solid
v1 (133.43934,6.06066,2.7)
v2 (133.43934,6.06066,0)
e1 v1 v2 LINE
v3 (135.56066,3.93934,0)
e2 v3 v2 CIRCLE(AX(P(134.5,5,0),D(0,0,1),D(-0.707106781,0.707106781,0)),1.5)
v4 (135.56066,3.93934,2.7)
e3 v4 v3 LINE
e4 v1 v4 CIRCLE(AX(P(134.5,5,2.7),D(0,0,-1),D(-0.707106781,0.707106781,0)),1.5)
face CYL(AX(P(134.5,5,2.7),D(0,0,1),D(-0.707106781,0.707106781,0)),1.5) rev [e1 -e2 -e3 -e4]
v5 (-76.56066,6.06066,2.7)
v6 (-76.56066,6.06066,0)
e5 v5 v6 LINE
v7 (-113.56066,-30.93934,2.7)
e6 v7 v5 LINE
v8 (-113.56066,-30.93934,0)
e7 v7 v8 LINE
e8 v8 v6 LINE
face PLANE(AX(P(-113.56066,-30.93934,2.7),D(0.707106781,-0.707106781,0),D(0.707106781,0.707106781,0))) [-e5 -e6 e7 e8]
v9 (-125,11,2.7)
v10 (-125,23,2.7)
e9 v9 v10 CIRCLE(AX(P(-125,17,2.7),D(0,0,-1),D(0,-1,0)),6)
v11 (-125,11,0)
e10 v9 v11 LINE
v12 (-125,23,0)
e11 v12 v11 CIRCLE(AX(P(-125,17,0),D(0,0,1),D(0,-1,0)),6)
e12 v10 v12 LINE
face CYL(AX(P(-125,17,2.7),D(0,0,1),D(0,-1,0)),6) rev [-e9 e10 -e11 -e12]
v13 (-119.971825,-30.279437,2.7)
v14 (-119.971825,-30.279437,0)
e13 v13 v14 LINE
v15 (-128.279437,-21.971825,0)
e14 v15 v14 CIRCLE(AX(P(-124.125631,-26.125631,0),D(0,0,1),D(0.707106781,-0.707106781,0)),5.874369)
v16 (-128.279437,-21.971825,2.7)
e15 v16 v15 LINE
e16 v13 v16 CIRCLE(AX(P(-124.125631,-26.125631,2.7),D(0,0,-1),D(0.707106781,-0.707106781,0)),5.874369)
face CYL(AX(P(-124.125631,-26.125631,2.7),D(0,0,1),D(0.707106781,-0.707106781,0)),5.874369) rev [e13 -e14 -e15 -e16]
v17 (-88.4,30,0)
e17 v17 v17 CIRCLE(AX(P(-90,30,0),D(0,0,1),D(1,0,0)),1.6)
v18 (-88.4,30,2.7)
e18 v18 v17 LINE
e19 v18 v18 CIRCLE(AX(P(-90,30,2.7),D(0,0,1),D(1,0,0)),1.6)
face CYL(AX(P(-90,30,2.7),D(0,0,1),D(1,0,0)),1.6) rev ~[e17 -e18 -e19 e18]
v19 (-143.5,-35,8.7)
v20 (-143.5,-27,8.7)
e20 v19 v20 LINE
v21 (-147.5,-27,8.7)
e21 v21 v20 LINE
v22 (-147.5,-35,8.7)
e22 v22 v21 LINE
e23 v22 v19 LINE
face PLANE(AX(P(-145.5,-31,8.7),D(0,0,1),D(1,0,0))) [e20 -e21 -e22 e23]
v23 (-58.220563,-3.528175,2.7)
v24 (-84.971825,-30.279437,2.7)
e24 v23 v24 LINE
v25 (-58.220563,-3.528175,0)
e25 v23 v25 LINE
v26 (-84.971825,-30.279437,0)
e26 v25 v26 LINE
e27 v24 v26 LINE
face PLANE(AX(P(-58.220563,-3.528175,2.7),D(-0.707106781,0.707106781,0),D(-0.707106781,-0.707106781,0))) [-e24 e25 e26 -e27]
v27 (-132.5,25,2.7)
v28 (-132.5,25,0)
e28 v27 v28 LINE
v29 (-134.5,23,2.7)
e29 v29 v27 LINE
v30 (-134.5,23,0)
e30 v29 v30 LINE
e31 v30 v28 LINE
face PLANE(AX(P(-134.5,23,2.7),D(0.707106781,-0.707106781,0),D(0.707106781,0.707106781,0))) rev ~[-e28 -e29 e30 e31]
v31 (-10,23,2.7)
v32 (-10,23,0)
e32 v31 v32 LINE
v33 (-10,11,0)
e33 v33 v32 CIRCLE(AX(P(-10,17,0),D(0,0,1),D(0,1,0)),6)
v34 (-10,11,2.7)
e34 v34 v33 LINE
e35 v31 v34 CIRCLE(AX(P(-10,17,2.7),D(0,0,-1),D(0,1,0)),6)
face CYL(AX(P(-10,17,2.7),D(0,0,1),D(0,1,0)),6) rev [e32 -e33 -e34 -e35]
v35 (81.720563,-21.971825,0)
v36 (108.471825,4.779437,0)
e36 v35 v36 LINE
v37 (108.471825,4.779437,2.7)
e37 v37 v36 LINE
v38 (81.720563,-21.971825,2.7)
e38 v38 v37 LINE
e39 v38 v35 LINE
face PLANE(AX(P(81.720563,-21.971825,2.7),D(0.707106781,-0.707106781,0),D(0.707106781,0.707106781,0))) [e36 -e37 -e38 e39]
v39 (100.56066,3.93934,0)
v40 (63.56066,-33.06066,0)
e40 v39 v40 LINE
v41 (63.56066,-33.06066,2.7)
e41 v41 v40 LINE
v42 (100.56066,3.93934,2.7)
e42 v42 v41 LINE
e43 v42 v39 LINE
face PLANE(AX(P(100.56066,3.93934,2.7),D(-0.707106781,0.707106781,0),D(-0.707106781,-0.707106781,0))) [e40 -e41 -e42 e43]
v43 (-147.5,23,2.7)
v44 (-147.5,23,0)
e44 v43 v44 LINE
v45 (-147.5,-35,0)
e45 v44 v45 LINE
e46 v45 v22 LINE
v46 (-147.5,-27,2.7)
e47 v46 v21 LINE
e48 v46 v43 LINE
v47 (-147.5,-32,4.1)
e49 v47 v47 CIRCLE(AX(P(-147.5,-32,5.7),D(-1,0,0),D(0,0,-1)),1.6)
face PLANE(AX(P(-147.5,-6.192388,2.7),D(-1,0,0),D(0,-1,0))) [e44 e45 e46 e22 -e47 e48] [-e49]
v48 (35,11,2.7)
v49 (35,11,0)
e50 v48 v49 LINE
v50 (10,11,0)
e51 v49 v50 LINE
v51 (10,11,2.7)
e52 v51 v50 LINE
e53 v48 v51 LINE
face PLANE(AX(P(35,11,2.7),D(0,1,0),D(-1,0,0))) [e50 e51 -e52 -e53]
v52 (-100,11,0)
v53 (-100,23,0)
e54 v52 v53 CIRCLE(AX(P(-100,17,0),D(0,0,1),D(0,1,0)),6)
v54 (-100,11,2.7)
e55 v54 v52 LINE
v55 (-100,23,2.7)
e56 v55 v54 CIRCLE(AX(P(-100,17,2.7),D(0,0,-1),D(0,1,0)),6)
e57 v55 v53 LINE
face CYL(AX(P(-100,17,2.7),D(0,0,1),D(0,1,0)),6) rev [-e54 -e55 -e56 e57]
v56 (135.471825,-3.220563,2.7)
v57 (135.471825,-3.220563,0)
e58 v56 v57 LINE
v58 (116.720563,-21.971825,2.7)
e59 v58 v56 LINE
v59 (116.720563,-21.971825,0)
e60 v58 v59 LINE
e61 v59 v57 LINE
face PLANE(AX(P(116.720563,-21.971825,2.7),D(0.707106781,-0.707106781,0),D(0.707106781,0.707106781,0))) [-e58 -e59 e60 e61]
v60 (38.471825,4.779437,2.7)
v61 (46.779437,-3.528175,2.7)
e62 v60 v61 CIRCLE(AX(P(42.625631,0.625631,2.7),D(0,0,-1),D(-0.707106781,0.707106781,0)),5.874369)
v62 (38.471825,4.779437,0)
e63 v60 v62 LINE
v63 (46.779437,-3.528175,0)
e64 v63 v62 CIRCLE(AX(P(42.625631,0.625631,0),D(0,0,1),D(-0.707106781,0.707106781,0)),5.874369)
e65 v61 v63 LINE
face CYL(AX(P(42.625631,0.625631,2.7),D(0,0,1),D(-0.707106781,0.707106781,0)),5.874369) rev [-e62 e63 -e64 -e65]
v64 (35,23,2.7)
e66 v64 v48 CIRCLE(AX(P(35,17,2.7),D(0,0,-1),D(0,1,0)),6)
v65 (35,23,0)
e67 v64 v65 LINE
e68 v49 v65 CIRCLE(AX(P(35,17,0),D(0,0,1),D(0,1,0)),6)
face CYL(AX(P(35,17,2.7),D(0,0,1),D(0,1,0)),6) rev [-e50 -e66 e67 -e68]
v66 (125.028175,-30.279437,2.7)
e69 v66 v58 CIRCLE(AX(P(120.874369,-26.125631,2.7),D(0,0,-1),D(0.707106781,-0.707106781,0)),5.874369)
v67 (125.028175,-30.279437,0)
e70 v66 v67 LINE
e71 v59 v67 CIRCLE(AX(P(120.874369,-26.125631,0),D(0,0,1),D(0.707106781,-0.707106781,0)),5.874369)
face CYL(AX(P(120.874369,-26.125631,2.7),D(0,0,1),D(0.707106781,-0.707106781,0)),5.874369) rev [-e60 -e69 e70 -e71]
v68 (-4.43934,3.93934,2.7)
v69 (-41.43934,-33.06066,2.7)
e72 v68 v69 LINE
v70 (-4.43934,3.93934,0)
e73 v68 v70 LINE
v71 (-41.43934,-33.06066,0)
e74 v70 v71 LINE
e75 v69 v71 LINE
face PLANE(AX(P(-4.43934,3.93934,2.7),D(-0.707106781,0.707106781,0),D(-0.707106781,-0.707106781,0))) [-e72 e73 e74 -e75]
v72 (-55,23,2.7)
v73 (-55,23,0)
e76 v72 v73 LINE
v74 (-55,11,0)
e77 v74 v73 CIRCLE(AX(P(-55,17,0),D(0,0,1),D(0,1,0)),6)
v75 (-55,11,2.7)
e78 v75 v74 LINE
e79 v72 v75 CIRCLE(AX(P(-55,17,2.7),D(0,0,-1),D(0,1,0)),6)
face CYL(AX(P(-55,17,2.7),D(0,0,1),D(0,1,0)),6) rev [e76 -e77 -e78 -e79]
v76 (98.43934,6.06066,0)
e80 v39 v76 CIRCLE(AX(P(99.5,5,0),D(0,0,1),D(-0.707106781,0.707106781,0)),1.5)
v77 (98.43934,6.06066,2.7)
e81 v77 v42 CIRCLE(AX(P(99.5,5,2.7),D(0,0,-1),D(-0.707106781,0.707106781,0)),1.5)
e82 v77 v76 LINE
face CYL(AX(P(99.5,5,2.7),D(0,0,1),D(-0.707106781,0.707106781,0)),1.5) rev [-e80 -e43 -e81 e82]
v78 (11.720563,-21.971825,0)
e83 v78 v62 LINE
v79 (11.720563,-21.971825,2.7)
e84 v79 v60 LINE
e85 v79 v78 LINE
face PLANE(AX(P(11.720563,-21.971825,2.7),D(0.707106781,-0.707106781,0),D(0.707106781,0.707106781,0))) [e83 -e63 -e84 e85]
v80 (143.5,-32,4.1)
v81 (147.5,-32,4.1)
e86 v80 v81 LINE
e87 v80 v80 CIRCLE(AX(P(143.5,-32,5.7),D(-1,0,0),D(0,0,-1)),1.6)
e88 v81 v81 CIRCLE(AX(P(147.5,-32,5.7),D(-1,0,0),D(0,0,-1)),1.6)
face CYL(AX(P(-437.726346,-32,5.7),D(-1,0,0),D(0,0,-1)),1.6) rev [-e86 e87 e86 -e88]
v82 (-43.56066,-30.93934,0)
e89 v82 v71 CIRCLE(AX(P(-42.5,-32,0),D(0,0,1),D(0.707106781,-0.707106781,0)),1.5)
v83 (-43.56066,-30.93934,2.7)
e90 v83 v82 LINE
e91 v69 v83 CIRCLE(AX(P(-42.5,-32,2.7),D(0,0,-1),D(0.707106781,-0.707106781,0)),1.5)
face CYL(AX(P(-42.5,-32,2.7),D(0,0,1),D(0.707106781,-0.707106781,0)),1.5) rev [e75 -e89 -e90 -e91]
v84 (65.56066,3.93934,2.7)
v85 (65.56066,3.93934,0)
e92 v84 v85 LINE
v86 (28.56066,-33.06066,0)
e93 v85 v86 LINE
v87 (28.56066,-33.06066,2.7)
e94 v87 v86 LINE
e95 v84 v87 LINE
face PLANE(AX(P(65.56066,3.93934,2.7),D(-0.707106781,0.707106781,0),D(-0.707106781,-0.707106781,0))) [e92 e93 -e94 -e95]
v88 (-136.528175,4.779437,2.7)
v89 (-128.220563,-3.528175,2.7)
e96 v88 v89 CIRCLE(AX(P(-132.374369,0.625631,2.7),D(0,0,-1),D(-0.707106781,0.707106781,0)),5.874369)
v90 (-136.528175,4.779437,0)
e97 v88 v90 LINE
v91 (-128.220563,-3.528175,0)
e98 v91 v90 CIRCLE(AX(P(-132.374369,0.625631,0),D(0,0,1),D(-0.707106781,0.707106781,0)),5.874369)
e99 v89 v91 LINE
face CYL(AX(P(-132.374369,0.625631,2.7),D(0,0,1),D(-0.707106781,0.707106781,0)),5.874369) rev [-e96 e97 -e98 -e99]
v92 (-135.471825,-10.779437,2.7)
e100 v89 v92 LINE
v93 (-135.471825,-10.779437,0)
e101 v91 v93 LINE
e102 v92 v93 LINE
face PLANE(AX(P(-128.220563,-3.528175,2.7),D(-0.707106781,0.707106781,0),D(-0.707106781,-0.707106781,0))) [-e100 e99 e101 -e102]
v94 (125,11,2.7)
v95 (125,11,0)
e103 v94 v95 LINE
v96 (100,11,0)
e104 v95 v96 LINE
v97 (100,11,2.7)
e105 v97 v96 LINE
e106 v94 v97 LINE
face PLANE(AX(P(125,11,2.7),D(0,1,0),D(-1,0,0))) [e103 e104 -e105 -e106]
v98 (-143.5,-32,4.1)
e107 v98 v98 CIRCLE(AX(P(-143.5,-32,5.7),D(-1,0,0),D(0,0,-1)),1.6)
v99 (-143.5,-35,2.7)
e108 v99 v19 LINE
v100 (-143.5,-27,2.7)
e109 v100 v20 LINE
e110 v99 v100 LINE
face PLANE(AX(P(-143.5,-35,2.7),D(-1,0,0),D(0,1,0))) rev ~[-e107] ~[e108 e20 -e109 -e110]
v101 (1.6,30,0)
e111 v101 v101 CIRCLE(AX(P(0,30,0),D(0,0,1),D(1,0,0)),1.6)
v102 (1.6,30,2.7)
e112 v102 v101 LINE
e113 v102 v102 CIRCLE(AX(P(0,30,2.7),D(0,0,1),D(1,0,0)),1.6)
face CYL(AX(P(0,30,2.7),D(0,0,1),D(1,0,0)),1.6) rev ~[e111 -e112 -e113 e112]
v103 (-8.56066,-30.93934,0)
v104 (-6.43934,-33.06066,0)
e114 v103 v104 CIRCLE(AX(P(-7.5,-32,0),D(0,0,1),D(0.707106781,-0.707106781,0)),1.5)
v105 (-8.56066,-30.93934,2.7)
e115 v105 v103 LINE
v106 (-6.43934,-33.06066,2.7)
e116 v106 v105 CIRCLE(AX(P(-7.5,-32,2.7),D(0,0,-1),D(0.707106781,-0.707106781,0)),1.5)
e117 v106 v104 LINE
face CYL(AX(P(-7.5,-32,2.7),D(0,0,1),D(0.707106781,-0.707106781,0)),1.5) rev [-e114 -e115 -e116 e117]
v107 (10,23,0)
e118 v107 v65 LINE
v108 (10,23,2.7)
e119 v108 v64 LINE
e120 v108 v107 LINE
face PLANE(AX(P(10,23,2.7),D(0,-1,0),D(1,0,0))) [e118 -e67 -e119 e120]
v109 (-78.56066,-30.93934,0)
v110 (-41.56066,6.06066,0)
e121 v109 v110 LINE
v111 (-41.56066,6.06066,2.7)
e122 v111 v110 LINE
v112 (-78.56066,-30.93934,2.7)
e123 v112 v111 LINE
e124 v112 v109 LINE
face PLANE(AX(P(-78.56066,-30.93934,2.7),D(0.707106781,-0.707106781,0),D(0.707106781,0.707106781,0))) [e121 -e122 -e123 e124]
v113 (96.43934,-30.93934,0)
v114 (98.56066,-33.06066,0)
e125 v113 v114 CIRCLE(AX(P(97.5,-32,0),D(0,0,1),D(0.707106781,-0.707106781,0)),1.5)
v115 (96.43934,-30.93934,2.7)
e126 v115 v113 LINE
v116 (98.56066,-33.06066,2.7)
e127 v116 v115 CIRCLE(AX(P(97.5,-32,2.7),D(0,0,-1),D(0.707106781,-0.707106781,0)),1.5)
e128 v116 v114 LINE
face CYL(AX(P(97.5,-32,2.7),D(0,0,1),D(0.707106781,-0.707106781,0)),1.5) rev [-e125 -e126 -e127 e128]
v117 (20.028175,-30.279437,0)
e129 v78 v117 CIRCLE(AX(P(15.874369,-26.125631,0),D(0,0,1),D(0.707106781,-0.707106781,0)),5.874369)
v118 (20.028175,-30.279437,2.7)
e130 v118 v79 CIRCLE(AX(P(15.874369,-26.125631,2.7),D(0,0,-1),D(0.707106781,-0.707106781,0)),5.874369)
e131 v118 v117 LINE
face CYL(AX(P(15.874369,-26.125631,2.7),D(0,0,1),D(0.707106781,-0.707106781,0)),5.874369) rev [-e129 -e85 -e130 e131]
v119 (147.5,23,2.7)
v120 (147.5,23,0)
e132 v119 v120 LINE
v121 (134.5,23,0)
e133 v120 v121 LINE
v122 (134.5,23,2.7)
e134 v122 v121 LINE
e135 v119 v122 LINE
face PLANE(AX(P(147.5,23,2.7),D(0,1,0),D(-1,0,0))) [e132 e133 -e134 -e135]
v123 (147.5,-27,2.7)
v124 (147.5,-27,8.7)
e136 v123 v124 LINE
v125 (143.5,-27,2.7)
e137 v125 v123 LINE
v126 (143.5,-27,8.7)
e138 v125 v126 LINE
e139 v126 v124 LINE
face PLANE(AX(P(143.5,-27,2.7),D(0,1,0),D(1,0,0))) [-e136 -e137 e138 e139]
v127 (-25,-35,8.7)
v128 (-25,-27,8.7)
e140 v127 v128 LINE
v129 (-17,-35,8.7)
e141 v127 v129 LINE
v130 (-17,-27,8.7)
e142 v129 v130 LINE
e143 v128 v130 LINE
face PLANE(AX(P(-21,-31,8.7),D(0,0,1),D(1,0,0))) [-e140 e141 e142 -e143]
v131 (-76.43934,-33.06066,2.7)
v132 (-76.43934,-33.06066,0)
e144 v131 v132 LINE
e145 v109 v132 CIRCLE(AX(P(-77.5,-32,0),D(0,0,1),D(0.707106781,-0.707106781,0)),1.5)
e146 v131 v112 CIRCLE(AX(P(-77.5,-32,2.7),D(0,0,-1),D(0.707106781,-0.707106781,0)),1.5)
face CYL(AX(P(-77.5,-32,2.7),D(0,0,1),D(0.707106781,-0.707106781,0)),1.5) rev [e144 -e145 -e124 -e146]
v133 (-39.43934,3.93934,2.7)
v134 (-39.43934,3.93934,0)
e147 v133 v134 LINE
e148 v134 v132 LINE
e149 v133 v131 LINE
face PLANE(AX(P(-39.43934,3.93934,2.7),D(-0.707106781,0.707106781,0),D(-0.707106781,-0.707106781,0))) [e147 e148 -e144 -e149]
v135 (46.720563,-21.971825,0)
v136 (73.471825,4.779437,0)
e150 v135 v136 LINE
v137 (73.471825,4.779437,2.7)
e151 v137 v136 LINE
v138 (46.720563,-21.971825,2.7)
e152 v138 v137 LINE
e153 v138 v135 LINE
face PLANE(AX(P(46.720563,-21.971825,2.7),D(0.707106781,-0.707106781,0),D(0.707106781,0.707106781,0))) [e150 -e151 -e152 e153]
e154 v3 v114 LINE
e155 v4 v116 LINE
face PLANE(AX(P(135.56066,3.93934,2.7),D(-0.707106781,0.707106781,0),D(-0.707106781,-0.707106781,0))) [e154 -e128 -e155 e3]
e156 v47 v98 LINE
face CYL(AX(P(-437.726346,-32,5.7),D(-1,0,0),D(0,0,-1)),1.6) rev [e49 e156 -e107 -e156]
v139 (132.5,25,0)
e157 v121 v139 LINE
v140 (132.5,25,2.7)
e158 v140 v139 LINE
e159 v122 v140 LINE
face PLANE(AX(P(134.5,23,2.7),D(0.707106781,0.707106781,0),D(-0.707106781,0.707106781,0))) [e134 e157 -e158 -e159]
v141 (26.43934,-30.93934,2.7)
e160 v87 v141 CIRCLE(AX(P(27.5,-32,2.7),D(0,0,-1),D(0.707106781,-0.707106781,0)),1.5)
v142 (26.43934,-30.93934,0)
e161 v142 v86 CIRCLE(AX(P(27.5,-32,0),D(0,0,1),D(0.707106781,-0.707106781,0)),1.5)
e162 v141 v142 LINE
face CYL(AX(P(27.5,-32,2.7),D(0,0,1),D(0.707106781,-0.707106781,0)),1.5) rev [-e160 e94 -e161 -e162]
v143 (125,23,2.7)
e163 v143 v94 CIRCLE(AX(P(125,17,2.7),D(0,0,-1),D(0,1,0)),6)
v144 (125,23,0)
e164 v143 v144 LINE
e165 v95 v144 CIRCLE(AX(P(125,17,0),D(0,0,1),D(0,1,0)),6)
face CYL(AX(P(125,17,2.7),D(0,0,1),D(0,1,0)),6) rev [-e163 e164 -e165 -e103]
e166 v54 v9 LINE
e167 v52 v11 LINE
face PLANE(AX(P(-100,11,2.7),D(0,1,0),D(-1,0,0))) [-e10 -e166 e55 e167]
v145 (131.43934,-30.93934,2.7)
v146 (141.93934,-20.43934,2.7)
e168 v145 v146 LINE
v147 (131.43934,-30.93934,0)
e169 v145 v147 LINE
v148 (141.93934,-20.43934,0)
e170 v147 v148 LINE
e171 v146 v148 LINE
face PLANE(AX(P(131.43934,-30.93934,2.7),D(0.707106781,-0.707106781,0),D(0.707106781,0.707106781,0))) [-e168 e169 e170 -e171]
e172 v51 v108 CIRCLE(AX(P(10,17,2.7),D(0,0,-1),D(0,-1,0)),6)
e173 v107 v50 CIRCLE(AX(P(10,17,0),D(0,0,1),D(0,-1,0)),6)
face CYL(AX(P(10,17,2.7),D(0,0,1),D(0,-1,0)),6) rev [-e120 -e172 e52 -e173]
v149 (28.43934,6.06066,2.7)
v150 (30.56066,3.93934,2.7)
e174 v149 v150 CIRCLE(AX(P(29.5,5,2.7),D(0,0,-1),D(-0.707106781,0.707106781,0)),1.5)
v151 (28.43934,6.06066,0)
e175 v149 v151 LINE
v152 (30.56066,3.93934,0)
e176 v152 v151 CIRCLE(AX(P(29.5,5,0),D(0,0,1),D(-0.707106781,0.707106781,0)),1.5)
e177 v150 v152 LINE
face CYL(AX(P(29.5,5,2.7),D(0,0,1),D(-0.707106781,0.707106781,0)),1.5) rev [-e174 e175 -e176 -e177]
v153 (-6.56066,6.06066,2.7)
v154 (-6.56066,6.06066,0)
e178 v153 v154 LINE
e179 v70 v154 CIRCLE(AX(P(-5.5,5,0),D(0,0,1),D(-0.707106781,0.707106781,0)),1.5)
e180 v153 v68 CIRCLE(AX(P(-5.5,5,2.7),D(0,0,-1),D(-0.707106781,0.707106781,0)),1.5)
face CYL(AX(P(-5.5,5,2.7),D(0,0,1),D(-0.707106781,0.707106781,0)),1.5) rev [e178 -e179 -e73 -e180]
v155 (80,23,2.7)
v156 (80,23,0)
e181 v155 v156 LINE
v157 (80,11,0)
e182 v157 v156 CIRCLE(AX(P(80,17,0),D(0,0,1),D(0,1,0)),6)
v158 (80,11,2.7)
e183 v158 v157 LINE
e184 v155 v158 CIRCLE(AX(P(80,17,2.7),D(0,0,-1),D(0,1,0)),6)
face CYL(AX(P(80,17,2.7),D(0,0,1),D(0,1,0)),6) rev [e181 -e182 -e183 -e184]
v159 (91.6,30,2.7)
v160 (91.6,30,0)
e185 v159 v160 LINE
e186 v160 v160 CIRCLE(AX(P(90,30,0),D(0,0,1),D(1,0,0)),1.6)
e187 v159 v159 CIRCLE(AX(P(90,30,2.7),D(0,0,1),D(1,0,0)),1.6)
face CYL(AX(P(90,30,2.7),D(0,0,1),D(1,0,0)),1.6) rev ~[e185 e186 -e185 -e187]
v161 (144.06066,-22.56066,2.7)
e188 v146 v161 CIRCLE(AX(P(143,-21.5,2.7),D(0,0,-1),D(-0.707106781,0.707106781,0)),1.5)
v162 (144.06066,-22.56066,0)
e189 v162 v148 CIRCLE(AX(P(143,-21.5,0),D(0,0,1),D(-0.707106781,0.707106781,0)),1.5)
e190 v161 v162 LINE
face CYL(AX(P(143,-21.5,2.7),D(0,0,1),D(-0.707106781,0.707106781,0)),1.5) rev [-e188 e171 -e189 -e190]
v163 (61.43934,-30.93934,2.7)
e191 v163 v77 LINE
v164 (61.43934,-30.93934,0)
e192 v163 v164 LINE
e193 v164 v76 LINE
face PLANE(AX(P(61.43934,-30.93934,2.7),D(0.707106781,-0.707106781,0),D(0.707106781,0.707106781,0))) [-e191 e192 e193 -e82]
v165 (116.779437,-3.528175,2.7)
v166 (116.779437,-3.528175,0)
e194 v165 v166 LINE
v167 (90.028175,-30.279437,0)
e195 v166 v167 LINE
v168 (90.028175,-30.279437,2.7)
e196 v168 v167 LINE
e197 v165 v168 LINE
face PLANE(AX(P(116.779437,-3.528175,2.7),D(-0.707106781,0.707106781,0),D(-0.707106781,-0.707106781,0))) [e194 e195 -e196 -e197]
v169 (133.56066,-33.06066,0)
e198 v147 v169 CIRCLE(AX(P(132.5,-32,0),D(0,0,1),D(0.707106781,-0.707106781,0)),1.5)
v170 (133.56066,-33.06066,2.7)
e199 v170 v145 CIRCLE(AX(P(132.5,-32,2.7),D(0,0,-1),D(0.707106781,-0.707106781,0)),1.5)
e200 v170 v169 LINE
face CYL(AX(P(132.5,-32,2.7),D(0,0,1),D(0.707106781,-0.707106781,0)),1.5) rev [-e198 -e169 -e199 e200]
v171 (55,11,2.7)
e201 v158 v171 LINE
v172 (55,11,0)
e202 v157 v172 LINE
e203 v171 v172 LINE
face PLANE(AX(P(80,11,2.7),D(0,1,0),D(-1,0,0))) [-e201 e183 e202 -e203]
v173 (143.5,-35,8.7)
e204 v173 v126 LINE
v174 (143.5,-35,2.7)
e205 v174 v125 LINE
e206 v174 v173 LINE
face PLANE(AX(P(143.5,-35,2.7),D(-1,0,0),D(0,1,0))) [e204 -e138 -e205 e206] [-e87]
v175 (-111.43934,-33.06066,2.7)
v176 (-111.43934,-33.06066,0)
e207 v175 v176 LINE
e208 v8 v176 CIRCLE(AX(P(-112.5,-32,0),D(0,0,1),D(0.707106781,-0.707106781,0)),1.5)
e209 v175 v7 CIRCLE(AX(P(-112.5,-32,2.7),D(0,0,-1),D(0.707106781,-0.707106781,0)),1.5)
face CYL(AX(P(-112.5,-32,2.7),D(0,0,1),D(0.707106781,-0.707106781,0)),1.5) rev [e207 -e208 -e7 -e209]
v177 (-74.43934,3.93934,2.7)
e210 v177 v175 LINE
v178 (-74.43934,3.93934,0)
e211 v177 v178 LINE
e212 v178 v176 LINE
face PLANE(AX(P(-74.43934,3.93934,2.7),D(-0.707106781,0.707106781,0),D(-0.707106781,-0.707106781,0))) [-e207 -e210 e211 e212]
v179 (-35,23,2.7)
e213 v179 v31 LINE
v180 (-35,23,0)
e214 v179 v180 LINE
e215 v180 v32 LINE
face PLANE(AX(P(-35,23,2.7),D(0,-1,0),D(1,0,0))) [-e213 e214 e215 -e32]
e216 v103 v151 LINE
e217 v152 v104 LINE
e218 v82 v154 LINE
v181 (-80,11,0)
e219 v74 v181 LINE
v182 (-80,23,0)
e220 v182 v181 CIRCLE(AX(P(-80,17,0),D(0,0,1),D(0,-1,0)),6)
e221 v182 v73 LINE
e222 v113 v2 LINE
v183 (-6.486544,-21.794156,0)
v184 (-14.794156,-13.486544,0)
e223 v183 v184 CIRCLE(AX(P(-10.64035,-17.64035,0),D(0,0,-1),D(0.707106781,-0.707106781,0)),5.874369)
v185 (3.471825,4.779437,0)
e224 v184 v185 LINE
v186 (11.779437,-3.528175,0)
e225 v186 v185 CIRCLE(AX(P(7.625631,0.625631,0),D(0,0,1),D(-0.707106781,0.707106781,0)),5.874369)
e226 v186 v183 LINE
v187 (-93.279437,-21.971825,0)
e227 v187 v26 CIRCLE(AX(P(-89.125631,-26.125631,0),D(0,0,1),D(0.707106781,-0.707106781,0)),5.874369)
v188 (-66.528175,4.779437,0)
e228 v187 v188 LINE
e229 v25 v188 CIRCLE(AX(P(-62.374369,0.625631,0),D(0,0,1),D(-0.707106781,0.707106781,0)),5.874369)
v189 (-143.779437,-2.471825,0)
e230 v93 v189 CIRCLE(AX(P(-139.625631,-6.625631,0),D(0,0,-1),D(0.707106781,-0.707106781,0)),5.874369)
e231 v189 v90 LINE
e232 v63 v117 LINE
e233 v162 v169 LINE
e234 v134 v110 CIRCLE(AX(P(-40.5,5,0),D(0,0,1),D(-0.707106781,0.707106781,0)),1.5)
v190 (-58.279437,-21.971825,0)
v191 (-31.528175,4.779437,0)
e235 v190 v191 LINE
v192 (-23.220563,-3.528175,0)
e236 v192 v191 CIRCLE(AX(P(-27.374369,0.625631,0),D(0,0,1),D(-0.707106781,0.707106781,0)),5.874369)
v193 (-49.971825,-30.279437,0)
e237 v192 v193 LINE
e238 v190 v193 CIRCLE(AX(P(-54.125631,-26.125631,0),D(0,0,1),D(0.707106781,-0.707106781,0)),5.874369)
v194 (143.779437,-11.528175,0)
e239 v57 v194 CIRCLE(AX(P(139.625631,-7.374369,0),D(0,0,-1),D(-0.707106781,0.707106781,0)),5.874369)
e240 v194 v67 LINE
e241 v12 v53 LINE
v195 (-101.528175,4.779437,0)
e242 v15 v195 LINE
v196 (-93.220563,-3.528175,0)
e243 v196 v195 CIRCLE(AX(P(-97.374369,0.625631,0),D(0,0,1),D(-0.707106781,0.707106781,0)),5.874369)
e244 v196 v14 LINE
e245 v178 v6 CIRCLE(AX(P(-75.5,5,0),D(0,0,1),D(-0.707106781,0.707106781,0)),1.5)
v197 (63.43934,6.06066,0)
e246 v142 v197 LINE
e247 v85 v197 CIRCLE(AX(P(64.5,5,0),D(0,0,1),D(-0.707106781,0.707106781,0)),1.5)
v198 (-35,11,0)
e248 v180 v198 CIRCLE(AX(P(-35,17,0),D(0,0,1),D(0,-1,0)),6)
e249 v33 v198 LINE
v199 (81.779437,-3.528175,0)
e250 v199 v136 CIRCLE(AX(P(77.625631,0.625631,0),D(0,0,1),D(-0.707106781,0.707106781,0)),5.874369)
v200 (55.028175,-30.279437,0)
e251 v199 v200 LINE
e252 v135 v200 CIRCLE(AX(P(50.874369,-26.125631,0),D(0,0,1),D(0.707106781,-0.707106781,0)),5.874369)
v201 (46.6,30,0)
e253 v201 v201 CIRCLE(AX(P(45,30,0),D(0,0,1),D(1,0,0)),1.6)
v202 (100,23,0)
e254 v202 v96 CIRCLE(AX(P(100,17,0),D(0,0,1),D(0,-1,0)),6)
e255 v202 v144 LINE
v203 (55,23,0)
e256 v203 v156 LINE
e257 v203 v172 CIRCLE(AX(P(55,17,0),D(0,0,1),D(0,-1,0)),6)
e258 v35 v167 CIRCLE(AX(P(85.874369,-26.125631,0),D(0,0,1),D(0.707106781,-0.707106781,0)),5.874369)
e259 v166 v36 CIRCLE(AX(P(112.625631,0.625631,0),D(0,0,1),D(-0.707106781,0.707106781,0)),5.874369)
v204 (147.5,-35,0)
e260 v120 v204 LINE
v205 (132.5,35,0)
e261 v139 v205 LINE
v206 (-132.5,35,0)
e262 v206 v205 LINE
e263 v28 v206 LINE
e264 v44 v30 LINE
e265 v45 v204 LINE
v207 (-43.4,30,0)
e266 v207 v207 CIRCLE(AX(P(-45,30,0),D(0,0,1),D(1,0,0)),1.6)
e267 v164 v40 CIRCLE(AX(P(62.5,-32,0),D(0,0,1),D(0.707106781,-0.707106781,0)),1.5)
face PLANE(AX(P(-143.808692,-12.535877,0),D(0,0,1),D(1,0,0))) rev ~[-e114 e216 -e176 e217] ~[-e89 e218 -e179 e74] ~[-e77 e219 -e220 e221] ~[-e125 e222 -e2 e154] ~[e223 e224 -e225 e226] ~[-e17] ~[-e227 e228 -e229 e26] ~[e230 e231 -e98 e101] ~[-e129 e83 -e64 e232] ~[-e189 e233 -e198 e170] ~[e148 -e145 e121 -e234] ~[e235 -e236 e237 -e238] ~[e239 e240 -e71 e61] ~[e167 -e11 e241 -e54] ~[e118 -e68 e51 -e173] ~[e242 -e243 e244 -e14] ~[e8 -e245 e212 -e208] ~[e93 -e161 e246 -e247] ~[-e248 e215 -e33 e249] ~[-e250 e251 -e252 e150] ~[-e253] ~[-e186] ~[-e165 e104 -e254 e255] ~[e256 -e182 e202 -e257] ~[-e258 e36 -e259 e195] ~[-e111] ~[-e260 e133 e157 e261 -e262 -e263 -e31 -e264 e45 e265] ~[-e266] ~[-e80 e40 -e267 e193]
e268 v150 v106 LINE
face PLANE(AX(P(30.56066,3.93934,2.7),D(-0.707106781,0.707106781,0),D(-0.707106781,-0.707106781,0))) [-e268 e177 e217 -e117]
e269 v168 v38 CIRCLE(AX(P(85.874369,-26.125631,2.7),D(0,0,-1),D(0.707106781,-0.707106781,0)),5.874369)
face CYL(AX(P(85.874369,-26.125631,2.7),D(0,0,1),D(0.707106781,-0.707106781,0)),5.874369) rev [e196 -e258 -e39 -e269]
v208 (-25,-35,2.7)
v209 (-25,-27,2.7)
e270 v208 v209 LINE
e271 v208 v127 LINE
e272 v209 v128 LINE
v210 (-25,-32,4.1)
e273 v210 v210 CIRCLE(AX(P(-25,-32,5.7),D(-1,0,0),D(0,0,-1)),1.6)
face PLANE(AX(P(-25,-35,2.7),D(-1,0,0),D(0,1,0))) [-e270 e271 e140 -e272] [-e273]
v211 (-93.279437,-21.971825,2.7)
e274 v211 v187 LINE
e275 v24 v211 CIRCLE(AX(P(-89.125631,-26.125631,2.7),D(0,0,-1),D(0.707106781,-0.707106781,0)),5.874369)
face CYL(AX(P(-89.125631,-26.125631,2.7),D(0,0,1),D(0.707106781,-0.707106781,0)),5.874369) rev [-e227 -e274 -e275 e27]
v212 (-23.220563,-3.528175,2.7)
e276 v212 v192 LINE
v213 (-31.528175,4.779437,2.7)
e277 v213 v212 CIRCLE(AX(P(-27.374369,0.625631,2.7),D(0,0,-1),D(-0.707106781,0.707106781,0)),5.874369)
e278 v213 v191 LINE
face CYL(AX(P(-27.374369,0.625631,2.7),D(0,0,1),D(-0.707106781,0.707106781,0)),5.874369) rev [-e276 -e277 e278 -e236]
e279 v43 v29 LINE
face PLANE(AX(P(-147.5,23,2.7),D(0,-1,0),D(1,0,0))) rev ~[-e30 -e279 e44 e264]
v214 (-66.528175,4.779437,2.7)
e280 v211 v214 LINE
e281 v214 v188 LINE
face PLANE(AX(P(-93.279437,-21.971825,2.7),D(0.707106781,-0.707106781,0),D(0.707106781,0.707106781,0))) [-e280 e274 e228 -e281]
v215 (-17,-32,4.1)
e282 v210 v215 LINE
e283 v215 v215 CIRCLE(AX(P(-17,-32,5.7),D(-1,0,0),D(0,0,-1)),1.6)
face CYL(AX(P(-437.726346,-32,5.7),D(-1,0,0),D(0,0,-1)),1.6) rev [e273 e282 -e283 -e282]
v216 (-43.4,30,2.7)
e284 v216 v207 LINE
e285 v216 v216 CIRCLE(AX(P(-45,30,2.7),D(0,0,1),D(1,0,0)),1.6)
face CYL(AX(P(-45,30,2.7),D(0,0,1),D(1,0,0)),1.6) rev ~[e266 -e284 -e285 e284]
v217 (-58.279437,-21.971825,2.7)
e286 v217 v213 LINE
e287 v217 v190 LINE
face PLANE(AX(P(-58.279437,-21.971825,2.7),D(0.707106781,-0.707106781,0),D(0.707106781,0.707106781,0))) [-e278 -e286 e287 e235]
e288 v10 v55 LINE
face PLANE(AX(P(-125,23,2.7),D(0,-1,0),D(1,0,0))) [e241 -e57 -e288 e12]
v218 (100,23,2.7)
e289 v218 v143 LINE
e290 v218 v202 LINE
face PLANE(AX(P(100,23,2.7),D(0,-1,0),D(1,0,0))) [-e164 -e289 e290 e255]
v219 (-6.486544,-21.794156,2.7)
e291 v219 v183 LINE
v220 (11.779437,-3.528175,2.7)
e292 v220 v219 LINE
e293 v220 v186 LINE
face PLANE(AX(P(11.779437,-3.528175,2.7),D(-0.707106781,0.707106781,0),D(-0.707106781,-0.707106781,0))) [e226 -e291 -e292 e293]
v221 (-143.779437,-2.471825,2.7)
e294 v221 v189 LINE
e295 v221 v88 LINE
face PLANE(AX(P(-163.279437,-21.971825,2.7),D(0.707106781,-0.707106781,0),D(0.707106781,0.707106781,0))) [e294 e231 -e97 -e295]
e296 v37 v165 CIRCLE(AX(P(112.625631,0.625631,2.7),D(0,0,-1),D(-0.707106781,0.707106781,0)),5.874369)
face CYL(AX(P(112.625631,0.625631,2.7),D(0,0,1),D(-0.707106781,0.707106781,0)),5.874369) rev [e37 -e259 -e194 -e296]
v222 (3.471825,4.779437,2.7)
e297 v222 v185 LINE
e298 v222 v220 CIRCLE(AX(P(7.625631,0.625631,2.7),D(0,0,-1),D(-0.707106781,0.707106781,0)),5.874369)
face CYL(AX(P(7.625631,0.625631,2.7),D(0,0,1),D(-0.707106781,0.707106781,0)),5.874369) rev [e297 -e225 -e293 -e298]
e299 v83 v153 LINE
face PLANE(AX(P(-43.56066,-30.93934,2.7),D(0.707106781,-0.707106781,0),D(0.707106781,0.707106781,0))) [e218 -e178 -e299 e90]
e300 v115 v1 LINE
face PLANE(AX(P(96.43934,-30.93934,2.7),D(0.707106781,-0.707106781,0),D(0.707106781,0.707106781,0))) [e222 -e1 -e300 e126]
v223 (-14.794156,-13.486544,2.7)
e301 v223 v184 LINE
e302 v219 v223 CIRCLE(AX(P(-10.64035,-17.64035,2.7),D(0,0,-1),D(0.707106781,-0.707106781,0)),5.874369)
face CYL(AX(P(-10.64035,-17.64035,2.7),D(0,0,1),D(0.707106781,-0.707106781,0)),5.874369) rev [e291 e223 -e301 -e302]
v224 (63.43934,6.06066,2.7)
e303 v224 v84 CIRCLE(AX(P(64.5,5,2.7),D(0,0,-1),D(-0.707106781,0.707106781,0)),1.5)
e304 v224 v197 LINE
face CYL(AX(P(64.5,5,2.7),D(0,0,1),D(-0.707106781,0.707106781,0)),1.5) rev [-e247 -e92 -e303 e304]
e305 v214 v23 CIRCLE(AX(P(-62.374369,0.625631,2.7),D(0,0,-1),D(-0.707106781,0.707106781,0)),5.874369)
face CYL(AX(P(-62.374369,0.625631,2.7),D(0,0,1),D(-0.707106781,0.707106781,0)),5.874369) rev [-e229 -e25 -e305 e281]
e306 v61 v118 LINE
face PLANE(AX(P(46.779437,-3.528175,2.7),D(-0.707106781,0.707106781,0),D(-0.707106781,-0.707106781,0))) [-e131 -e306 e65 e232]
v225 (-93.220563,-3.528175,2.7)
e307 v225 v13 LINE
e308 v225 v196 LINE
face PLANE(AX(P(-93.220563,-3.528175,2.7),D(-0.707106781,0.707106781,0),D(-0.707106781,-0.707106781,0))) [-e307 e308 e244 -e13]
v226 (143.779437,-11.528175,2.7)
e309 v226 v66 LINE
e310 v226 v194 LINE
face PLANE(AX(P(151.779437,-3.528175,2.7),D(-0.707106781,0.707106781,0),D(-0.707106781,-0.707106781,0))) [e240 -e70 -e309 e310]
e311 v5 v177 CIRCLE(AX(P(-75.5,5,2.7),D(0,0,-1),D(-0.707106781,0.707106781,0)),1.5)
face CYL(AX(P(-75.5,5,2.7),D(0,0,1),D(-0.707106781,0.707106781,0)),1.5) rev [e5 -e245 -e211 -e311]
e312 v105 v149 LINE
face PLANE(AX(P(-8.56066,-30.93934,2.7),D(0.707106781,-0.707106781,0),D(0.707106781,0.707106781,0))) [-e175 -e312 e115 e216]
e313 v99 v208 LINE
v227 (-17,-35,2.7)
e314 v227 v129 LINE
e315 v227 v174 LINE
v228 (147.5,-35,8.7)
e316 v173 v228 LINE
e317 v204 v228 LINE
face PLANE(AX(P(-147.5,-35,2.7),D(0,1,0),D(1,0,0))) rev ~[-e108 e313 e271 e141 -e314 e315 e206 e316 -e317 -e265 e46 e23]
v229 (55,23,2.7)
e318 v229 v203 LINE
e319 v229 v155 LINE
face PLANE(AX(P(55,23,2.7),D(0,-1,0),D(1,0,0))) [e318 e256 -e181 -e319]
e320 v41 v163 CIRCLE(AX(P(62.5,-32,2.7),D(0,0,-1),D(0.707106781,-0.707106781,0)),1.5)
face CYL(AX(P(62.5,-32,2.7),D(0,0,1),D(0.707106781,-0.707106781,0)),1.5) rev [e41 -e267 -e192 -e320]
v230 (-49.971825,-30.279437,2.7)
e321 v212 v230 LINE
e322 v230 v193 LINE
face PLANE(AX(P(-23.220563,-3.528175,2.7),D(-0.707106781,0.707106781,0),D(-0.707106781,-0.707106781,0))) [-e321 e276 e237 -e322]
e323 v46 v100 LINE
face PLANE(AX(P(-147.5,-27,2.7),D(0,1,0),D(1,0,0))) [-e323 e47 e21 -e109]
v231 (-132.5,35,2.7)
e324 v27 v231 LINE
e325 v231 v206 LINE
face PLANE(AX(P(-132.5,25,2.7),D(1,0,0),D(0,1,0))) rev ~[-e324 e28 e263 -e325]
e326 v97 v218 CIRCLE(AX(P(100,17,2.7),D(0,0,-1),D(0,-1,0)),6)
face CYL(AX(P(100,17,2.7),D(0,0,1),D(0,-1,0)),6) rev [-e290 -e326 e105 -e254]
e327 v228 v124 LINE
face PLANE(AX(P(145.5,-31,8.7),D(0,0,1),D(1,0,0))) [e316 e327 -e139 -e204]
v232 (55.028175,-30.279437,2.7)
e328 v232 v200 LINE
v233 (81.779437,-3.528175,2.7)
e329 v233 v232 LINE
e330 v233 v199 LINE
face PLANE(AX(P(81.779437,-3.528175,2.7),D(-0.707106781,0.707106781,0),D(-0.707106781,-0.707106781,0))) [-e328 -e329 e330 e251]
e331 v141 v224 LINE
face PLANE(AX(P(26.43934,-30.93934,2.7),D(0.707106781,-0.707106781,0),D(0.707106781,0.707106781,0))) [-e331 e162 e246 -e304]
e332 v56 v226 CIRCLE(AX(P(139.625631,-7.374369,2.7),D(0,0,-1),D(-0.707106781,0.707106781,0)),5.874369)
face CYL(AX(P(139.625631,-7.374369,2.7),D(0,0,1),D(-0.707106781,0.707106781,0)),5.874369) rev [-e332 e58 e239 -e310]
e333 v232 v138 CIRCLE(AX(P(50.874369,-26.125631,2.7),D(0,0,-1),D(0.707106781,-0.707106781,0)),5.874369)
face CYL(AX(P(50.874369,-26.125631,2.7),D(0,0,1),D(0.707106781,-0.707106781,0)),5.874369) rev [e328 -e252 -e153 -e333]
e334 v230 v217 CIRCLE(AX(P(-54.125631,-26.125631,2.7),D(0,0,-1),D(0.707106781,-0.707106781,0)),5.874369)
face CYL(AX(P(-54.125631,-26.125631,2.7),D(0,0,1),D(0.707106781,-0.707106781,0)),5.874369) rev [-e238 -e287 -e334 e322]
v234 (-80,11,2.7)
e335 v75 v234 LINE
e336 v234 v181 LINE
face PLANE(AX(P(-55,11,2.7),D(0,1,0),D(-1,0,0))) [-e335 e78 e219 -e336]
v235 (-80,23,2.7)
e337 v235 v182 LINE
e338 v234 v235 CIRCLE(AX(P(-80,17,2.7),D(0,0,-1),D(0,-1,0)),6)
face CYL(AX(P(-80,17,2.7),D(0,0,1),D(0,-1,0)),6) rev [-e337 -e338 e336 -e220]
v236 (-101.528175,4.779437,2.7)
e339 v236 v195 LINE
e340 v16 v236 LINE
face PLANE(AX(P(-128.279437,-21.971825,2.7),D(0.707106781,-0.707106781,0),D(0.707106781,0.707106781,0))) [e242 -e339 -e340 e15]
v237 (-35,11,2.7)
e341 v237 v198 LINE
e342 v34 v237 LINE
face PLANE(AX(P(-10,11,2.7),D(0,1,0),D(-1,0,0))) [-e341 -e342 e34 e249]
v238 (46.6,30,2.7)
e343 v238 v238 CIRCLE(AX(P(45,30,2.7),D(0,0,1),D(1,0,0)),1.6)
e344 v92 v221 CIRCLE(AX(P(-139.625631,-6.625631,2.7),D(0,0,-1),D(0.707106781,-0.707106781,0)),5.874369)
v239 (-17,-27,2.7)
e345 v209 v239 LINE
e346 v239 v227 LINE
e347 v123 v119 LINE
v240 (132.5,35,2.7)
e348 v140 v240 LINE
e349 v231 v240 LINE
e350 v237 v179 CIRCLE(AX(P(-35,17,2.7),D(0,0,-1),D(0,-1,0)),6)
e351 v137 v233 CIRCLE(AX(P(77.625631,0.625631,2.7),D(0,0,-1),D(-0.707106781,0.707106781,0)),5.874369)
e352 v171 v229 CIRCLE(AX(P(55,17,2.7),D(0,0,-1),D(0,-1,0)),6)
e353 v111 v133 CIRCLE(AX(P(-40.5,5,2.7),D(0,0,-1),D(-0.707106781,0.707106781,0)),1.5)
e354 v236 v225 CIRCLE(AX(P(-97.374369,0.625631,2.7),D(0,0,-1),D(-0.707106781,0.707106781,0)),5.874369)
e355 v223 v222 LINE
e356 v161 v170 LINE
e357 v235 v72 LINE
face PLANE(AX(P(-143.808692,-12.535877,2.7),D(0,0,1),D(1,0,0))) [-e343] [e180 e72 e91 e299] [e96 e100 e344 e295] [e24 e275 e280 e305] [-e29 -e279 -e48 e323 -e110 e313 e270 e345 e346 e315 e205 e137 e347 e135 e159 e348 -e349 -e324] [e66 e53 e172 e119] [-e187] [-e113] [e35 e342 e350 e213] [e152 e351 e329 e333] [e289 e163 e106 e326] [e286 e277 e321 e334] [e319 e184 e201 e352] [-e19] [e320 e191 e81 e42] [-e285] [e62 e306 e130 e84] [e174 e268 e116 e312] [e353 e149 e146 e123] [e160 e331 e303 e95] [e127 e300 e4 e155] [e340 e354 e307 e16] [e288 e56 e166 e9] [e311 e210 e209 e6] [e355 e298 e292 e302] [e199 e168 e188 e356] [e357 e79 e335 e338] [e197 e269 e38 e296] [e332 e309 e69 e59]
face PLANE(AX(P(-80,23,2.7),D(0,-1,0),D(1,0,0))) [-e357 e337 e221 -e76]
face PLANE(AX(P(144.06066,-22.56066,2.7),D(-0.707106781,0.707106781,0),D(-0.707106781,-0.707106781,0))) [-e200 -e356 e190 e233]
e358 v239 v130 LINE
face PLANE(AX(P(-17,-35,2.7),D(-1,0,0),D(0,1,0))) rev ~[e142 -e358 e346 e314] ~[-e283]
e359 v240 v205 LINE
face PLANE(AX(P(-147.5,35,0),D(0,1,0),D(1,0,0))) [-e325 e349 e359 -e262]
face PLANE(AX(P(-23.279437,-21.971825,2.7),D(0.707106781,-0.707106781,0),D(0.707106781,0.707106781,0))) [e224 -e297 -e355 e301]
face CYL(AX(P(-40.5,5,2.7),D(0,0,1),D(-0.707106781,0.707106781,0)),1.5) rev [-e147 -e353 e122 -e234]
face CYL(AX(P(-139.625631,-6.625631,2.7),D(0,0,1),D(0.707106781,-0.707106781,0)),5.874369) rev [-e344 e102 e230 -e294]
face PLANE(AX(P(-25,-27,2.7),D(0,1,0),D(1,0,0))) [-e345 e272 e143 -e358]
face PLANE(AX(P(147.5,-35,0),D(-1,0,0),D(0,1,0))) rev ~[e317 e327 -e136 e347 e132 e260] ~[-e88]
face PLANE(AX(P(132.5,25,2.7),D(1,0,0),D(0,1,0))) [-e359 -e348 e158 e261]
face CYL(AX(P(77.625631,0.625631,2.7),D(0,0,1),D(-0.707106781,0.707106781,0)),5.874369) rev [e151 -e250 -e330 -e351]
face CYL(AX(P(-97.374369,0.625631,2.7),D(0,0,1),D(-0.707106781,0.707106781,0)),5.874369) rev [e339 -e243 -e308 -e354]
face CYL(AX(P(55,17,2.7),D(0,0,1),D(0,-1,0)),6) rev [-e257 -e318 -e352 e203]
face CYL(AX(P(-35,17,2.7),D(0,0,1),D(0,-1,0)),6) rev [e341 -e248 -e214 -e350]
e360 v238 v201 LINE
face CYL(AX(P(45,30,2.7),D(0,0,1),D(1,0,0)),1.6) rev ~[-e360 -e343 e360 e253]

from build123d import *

# Parameters (mm, degrees)
SKETCH_1_W               = 295
SKETCH_1_H               = 70
EXTRUDE_1_DEPTH          = 2.7
CUT_EXTRUDE_5_DEPTH      = 10
CUT_EXTRUDE_1_DEPTH      = 152.619721672
PATTERN_LINEAR_1_COUNT   = 7
PATTERN_LINEAR_1_PITCH   = 35
CUT_EXTRUDE_4_DEPTH      = 152.619721672
SKETCH_5_W               = 4
SKETCH_5_H               = 8
SKETCH_5_W_2             = 8
EXTRUDE_3_DEPTH          = 6
CUT_EXTRUDE_3_DEPTH      = 294.22634602
CUT_EXTRUDE_3_DEPTH_BACK = 294.22634602
SKETCH_7_R               = 1.6
CUT_EXTRUDE_6_DEPTH      = 152.714369787
PATTERN_LINEAR_2_COUNT   = 7
PATTERN_LINEAR_2_PITCH   = 35
PATTERN_LINEAR_3_COUNT   = 3
PATTERN_LINEAR_3_PITCH   = 35
CUT_EXTRUDE_7_DEPTH      = 152.714369787
PATTERN_LINEAR_4_COUNT   = 4
PATTERN_LINEAR_4_PITCH   = 45
PATTERN_LINEAR_5_COUNT   = 3
PATTERN_LINEAR_5_PITCH   = 45
EXTRUDE_4_DEPTH          = 2.7
SKETCH_15_R              = 1.6
CUT_EXTRUDE_8_DEPTH      = 10


with BuildPart() as part:
    # 草图1 → 凸台-拉伸1 (new body)
    with BuildSketch(Plane.XY):
        Rectangle(SKETCH_1_W, SKETCH_1_H)
    extrude(amount=EXTRUDE_1_DEPTH)

    # 草图11 → 切除-拉伸5 (cut)
    with BuildSketch(Plane.XY.offset(2.7)):
        Polygon((-147.5, 35), (-147.5, 23), (-134.5, 23), (-132.5, 25), (-132.5, 35), align=None)
        Polygon((132.5, 35), (147.5, 35), (147.5, 23), (134.5, 23), (132.5, 25), align=None)
    extrude(amount=-CUT_EXTRUDE_5_DEPTH, mode=Mode.SUBTRACT)

    # 草图2 → 切除-拉伸1 (cut, through all)
    with BuildSketch(Plane.XY.offset(2.7)):
        with BuildLine():
            Line((-113.560660172, -30.939339828), (-76.560660172, 6.060660172))
            ThreePointArc((-76.560660172, 6.060660172), (-74.439339828, 6.060660172), (-74.439339828, 3.939339828))
            Line((-74.439339828, 3.939339828), (-111.439339828, -33.060660172))
            ThreePointArc((-111.439339828, -33.060660172), (-113.560660172, -33.060660172), (-113.560660172, -30.939339828))
        make_face()
    cut_extrude_1 = extrude(amount=-CUT_EXTRUDE_1_DEPTH, mode=Mode.SUBTRACT)

    # 阵列(线性)1: 切除-拉伸1 ×7
    with Locations(*[(i * PATTERN_LINEAR_1_PITCH, 0, 0) for i in range(1, PATTERN_LINEAR_1_COUNT)]):
        add(cut_extrude_1, mode=Mode.SUBTRACT)

    # 草图10 → 切除-拉伸4 (cut, through all)
    with BuildSketch(Plane.XY.offset(2.7)):
        with BuildLine():
            Line((131.439339828, -30.939339828), (141.939339828, -20.439339828))
            ThreePointArc((141.939339828, -20.439339828), (144.060660172, -20.439339828), (144.060660172, -22.560660172))
            Line((144.060660172, -22.560660172), (133.560660172, -33.060660172))
            ThreePointArc((133.560660172, -33.060660172), (131.439339828, -33.060660172), (131.439339828, -30.939339828))
        make_face()
    extrude(amount=-CUT_EXTRUDE_4_DEPTH, mode=Mode.SUBTRACT)

    # 草图5 → 凸台-拉伸3 (add)
    with BuildSketch(Plane.XY.offset(2.7)):
        with Locations((-145.5, -31)):
            Rectangle(SKETCH_5_W, SKETCH_5_H)
        with Locations((145.5, -31)):
            Rectangle(SKETCH_5_W, SKETCH_5_H)
        with Locations((-21, -31)):
            Rectangle(SKETCH_5_W_2, SKETCH_5_H)
    extrude(amount=EXTRUDE_3_DEPTH)

    # 草图7 → 切除-拉伸3 (cut, two sides: drawn at the far end of the back side and taken through both)
    with BuildSketch(Plane(origin=(-143.5, 0, 0), x_dir=(0, 0, -1), z_dir=(1, 0, 0)).offset(-CUT_EXTRUDE_3_DEPTH_BACK)):
        with Locations((-5.7, -32)):
            Circle(SKETCH_7_R)
    extrude(amount=CUT_EXTRUDE_3_DEPTH + CUT_EXTRUDE_3_DEPTH_BACK, mode=Mode.SUBTRACT)

    # 草图12 → 切除-拉伸6 (cut, through all)
    with BuildSketch(Plane.XY.offset(2.7)):
        with BuildLine():
            Line((-93.279437252, -21.971825407), (-66.528174593, 4.779437252))
            ThreePointArc((-66.528174593, 4.779437252), (-58.220562748, 4.779437252), (-58.220562748, -3.528174593))
            Line((-58.220562748, -3.528174593), (-84.971825407, -30.279437252))
            ThreePointArc((-84.971825407, -30.279437252), (-93.279437252, -30.279437252), (-93.279437252, -21.971825407))
        make_face()
    cut_extrude_6 = extrude(amount=-CUT_EXTRUDE_6_DEPTH, mode=Mode.SUBTRACT)

    # 阵列(线性)2: 切除-拉伸6 ×7
    with Locations(*[(i * PATTERN_LINEAR_2_PITCH, 0, 0) for i in range(1, PATTERN_LINEAR_2_COUNT)]):
        add(cut_extrude_6, mode=Mode.SUBTRACT)

    # 阵列(线性)3: 切除-拉伸6 ×3
    with Locations(*[(-i * PATTERN_LINEAR_3_PITCH, 0, 0) for i in range(1, PATTERN_LINEAR_3_COUNT)]):
        add(cut_extrude_6, mode=Mode.SUBTRACT)

    # 草图13 → 切除-拉伸7 (cut, through all)
    with BuildSketch(Plane.XY.offset(2.7)):
        with BuildLine():
            Line((-35, 23), (-10, 23))
            ThreePointArc((-10, 23), (-4, 17), (-10, 11))
            Line((-10, 11), (-35, 11))
            ThreePointArc((-35, 11), (-41, 17), (-35, 23))
        make_face()
    cut_extrude_7 = extrude(amount=-CUT_EXTRUDE_7_DEPTH, mode=Mode.SUBTRACT)

    # 阵列(线性)4: 切除-拉伸7 ×4
    with Locations(*[(i * PATTERN_LINEAR_4_PITCH, 0, 0) for i in range(1, PATTERN_LINEAR_4_COUNT)]):
        add(cut_extrude_7, mode=Mode.SUBTRACT)

    # 阵列(线性)5: 切除-拉伸7 ×3
    with Locations(*[(-i * PATTERN_LINEAR_5_PITCH, 0, 0) for i in range(1, PATTERN_LINEAR_5_COUNT)]):
        add(cut_extrude_7, mode=Mode.SUBTRACT)

    # 草图14 → 凸台-拉伸4 (add)
    with BuildSketch(Plane.XY.offset(2.7)):
        with BuildLine():
            Line((-143.779437252, -2.471825407), (-147.5, -6.192388155))
            Line((-147.5, -6.192388155), (-147.5, -22.807611845))
            Line((-147.5, -22.807611845), (-135.471825407, -10.779437252))
            ThreePointArc((-135.471825407, -10.779437252), (-143.779437252, -10.779437252), (-143.779437252, -2.471825407))
        make_face()
        with BuildLine():
            Line((143.471825407, 4.779437252), (135.471825407, -3.220562748))
            ThreePointArc((135.471825407, -3.220562748), (143.779437252, -3.220562748), (143.779437252, -11.528174593))
            Line((143.779437252, -11.528174593), (147.5, -7.807611845))
            Line((147.5, -7.807611845), (147.5, 6.498656448))
            ThreePointArc((147.5, 6.498656448), (145.31969888, 6.028490093), (143.471825407, 4.779437252))
        make_face()
        with BuildLine():
            Line((-14.794155877, -13.486544033), (-23.279437252, -21.971825407))
            ThreePointArc((-23.279437252, -21.971825407), (-23.279437252, -30.279437252), (-14.971825407, -30.279437252))
            Line((-14.971825407, -30.279437252), (-6.486544033, -21.794155877))
            ThreePointArc((-6.486544033, -21.794155877), (-14.794155877, -21.794155877), (-14.794155877, -13.486544033))
        make_face()
    extrude(amount=-EXTRUDE_4_DEPTH)

    # 草图15 → 切除-拉伸8 (cut)
    with BuildSketch(Plane.XY.offset(2.7)):
        with Locations((-90, 30)):
            Circle(SKETCH_15_R)
        with Locations((-45, 30)):
            Circle(SKETCH_15_R)
        with Locations((45, 30)):
            Circle(SKETCH_15_R)
        with Locations((90, 30)):
            Circle(SKETCH_15_R)
        with Locations((0, 30)):
            Circle(SKETCH_15_R)
    extrude(amount=-CUT_EXTRUDE_8_DEPTH, mode=Mode.SUBTRACT)


solid = part.part
